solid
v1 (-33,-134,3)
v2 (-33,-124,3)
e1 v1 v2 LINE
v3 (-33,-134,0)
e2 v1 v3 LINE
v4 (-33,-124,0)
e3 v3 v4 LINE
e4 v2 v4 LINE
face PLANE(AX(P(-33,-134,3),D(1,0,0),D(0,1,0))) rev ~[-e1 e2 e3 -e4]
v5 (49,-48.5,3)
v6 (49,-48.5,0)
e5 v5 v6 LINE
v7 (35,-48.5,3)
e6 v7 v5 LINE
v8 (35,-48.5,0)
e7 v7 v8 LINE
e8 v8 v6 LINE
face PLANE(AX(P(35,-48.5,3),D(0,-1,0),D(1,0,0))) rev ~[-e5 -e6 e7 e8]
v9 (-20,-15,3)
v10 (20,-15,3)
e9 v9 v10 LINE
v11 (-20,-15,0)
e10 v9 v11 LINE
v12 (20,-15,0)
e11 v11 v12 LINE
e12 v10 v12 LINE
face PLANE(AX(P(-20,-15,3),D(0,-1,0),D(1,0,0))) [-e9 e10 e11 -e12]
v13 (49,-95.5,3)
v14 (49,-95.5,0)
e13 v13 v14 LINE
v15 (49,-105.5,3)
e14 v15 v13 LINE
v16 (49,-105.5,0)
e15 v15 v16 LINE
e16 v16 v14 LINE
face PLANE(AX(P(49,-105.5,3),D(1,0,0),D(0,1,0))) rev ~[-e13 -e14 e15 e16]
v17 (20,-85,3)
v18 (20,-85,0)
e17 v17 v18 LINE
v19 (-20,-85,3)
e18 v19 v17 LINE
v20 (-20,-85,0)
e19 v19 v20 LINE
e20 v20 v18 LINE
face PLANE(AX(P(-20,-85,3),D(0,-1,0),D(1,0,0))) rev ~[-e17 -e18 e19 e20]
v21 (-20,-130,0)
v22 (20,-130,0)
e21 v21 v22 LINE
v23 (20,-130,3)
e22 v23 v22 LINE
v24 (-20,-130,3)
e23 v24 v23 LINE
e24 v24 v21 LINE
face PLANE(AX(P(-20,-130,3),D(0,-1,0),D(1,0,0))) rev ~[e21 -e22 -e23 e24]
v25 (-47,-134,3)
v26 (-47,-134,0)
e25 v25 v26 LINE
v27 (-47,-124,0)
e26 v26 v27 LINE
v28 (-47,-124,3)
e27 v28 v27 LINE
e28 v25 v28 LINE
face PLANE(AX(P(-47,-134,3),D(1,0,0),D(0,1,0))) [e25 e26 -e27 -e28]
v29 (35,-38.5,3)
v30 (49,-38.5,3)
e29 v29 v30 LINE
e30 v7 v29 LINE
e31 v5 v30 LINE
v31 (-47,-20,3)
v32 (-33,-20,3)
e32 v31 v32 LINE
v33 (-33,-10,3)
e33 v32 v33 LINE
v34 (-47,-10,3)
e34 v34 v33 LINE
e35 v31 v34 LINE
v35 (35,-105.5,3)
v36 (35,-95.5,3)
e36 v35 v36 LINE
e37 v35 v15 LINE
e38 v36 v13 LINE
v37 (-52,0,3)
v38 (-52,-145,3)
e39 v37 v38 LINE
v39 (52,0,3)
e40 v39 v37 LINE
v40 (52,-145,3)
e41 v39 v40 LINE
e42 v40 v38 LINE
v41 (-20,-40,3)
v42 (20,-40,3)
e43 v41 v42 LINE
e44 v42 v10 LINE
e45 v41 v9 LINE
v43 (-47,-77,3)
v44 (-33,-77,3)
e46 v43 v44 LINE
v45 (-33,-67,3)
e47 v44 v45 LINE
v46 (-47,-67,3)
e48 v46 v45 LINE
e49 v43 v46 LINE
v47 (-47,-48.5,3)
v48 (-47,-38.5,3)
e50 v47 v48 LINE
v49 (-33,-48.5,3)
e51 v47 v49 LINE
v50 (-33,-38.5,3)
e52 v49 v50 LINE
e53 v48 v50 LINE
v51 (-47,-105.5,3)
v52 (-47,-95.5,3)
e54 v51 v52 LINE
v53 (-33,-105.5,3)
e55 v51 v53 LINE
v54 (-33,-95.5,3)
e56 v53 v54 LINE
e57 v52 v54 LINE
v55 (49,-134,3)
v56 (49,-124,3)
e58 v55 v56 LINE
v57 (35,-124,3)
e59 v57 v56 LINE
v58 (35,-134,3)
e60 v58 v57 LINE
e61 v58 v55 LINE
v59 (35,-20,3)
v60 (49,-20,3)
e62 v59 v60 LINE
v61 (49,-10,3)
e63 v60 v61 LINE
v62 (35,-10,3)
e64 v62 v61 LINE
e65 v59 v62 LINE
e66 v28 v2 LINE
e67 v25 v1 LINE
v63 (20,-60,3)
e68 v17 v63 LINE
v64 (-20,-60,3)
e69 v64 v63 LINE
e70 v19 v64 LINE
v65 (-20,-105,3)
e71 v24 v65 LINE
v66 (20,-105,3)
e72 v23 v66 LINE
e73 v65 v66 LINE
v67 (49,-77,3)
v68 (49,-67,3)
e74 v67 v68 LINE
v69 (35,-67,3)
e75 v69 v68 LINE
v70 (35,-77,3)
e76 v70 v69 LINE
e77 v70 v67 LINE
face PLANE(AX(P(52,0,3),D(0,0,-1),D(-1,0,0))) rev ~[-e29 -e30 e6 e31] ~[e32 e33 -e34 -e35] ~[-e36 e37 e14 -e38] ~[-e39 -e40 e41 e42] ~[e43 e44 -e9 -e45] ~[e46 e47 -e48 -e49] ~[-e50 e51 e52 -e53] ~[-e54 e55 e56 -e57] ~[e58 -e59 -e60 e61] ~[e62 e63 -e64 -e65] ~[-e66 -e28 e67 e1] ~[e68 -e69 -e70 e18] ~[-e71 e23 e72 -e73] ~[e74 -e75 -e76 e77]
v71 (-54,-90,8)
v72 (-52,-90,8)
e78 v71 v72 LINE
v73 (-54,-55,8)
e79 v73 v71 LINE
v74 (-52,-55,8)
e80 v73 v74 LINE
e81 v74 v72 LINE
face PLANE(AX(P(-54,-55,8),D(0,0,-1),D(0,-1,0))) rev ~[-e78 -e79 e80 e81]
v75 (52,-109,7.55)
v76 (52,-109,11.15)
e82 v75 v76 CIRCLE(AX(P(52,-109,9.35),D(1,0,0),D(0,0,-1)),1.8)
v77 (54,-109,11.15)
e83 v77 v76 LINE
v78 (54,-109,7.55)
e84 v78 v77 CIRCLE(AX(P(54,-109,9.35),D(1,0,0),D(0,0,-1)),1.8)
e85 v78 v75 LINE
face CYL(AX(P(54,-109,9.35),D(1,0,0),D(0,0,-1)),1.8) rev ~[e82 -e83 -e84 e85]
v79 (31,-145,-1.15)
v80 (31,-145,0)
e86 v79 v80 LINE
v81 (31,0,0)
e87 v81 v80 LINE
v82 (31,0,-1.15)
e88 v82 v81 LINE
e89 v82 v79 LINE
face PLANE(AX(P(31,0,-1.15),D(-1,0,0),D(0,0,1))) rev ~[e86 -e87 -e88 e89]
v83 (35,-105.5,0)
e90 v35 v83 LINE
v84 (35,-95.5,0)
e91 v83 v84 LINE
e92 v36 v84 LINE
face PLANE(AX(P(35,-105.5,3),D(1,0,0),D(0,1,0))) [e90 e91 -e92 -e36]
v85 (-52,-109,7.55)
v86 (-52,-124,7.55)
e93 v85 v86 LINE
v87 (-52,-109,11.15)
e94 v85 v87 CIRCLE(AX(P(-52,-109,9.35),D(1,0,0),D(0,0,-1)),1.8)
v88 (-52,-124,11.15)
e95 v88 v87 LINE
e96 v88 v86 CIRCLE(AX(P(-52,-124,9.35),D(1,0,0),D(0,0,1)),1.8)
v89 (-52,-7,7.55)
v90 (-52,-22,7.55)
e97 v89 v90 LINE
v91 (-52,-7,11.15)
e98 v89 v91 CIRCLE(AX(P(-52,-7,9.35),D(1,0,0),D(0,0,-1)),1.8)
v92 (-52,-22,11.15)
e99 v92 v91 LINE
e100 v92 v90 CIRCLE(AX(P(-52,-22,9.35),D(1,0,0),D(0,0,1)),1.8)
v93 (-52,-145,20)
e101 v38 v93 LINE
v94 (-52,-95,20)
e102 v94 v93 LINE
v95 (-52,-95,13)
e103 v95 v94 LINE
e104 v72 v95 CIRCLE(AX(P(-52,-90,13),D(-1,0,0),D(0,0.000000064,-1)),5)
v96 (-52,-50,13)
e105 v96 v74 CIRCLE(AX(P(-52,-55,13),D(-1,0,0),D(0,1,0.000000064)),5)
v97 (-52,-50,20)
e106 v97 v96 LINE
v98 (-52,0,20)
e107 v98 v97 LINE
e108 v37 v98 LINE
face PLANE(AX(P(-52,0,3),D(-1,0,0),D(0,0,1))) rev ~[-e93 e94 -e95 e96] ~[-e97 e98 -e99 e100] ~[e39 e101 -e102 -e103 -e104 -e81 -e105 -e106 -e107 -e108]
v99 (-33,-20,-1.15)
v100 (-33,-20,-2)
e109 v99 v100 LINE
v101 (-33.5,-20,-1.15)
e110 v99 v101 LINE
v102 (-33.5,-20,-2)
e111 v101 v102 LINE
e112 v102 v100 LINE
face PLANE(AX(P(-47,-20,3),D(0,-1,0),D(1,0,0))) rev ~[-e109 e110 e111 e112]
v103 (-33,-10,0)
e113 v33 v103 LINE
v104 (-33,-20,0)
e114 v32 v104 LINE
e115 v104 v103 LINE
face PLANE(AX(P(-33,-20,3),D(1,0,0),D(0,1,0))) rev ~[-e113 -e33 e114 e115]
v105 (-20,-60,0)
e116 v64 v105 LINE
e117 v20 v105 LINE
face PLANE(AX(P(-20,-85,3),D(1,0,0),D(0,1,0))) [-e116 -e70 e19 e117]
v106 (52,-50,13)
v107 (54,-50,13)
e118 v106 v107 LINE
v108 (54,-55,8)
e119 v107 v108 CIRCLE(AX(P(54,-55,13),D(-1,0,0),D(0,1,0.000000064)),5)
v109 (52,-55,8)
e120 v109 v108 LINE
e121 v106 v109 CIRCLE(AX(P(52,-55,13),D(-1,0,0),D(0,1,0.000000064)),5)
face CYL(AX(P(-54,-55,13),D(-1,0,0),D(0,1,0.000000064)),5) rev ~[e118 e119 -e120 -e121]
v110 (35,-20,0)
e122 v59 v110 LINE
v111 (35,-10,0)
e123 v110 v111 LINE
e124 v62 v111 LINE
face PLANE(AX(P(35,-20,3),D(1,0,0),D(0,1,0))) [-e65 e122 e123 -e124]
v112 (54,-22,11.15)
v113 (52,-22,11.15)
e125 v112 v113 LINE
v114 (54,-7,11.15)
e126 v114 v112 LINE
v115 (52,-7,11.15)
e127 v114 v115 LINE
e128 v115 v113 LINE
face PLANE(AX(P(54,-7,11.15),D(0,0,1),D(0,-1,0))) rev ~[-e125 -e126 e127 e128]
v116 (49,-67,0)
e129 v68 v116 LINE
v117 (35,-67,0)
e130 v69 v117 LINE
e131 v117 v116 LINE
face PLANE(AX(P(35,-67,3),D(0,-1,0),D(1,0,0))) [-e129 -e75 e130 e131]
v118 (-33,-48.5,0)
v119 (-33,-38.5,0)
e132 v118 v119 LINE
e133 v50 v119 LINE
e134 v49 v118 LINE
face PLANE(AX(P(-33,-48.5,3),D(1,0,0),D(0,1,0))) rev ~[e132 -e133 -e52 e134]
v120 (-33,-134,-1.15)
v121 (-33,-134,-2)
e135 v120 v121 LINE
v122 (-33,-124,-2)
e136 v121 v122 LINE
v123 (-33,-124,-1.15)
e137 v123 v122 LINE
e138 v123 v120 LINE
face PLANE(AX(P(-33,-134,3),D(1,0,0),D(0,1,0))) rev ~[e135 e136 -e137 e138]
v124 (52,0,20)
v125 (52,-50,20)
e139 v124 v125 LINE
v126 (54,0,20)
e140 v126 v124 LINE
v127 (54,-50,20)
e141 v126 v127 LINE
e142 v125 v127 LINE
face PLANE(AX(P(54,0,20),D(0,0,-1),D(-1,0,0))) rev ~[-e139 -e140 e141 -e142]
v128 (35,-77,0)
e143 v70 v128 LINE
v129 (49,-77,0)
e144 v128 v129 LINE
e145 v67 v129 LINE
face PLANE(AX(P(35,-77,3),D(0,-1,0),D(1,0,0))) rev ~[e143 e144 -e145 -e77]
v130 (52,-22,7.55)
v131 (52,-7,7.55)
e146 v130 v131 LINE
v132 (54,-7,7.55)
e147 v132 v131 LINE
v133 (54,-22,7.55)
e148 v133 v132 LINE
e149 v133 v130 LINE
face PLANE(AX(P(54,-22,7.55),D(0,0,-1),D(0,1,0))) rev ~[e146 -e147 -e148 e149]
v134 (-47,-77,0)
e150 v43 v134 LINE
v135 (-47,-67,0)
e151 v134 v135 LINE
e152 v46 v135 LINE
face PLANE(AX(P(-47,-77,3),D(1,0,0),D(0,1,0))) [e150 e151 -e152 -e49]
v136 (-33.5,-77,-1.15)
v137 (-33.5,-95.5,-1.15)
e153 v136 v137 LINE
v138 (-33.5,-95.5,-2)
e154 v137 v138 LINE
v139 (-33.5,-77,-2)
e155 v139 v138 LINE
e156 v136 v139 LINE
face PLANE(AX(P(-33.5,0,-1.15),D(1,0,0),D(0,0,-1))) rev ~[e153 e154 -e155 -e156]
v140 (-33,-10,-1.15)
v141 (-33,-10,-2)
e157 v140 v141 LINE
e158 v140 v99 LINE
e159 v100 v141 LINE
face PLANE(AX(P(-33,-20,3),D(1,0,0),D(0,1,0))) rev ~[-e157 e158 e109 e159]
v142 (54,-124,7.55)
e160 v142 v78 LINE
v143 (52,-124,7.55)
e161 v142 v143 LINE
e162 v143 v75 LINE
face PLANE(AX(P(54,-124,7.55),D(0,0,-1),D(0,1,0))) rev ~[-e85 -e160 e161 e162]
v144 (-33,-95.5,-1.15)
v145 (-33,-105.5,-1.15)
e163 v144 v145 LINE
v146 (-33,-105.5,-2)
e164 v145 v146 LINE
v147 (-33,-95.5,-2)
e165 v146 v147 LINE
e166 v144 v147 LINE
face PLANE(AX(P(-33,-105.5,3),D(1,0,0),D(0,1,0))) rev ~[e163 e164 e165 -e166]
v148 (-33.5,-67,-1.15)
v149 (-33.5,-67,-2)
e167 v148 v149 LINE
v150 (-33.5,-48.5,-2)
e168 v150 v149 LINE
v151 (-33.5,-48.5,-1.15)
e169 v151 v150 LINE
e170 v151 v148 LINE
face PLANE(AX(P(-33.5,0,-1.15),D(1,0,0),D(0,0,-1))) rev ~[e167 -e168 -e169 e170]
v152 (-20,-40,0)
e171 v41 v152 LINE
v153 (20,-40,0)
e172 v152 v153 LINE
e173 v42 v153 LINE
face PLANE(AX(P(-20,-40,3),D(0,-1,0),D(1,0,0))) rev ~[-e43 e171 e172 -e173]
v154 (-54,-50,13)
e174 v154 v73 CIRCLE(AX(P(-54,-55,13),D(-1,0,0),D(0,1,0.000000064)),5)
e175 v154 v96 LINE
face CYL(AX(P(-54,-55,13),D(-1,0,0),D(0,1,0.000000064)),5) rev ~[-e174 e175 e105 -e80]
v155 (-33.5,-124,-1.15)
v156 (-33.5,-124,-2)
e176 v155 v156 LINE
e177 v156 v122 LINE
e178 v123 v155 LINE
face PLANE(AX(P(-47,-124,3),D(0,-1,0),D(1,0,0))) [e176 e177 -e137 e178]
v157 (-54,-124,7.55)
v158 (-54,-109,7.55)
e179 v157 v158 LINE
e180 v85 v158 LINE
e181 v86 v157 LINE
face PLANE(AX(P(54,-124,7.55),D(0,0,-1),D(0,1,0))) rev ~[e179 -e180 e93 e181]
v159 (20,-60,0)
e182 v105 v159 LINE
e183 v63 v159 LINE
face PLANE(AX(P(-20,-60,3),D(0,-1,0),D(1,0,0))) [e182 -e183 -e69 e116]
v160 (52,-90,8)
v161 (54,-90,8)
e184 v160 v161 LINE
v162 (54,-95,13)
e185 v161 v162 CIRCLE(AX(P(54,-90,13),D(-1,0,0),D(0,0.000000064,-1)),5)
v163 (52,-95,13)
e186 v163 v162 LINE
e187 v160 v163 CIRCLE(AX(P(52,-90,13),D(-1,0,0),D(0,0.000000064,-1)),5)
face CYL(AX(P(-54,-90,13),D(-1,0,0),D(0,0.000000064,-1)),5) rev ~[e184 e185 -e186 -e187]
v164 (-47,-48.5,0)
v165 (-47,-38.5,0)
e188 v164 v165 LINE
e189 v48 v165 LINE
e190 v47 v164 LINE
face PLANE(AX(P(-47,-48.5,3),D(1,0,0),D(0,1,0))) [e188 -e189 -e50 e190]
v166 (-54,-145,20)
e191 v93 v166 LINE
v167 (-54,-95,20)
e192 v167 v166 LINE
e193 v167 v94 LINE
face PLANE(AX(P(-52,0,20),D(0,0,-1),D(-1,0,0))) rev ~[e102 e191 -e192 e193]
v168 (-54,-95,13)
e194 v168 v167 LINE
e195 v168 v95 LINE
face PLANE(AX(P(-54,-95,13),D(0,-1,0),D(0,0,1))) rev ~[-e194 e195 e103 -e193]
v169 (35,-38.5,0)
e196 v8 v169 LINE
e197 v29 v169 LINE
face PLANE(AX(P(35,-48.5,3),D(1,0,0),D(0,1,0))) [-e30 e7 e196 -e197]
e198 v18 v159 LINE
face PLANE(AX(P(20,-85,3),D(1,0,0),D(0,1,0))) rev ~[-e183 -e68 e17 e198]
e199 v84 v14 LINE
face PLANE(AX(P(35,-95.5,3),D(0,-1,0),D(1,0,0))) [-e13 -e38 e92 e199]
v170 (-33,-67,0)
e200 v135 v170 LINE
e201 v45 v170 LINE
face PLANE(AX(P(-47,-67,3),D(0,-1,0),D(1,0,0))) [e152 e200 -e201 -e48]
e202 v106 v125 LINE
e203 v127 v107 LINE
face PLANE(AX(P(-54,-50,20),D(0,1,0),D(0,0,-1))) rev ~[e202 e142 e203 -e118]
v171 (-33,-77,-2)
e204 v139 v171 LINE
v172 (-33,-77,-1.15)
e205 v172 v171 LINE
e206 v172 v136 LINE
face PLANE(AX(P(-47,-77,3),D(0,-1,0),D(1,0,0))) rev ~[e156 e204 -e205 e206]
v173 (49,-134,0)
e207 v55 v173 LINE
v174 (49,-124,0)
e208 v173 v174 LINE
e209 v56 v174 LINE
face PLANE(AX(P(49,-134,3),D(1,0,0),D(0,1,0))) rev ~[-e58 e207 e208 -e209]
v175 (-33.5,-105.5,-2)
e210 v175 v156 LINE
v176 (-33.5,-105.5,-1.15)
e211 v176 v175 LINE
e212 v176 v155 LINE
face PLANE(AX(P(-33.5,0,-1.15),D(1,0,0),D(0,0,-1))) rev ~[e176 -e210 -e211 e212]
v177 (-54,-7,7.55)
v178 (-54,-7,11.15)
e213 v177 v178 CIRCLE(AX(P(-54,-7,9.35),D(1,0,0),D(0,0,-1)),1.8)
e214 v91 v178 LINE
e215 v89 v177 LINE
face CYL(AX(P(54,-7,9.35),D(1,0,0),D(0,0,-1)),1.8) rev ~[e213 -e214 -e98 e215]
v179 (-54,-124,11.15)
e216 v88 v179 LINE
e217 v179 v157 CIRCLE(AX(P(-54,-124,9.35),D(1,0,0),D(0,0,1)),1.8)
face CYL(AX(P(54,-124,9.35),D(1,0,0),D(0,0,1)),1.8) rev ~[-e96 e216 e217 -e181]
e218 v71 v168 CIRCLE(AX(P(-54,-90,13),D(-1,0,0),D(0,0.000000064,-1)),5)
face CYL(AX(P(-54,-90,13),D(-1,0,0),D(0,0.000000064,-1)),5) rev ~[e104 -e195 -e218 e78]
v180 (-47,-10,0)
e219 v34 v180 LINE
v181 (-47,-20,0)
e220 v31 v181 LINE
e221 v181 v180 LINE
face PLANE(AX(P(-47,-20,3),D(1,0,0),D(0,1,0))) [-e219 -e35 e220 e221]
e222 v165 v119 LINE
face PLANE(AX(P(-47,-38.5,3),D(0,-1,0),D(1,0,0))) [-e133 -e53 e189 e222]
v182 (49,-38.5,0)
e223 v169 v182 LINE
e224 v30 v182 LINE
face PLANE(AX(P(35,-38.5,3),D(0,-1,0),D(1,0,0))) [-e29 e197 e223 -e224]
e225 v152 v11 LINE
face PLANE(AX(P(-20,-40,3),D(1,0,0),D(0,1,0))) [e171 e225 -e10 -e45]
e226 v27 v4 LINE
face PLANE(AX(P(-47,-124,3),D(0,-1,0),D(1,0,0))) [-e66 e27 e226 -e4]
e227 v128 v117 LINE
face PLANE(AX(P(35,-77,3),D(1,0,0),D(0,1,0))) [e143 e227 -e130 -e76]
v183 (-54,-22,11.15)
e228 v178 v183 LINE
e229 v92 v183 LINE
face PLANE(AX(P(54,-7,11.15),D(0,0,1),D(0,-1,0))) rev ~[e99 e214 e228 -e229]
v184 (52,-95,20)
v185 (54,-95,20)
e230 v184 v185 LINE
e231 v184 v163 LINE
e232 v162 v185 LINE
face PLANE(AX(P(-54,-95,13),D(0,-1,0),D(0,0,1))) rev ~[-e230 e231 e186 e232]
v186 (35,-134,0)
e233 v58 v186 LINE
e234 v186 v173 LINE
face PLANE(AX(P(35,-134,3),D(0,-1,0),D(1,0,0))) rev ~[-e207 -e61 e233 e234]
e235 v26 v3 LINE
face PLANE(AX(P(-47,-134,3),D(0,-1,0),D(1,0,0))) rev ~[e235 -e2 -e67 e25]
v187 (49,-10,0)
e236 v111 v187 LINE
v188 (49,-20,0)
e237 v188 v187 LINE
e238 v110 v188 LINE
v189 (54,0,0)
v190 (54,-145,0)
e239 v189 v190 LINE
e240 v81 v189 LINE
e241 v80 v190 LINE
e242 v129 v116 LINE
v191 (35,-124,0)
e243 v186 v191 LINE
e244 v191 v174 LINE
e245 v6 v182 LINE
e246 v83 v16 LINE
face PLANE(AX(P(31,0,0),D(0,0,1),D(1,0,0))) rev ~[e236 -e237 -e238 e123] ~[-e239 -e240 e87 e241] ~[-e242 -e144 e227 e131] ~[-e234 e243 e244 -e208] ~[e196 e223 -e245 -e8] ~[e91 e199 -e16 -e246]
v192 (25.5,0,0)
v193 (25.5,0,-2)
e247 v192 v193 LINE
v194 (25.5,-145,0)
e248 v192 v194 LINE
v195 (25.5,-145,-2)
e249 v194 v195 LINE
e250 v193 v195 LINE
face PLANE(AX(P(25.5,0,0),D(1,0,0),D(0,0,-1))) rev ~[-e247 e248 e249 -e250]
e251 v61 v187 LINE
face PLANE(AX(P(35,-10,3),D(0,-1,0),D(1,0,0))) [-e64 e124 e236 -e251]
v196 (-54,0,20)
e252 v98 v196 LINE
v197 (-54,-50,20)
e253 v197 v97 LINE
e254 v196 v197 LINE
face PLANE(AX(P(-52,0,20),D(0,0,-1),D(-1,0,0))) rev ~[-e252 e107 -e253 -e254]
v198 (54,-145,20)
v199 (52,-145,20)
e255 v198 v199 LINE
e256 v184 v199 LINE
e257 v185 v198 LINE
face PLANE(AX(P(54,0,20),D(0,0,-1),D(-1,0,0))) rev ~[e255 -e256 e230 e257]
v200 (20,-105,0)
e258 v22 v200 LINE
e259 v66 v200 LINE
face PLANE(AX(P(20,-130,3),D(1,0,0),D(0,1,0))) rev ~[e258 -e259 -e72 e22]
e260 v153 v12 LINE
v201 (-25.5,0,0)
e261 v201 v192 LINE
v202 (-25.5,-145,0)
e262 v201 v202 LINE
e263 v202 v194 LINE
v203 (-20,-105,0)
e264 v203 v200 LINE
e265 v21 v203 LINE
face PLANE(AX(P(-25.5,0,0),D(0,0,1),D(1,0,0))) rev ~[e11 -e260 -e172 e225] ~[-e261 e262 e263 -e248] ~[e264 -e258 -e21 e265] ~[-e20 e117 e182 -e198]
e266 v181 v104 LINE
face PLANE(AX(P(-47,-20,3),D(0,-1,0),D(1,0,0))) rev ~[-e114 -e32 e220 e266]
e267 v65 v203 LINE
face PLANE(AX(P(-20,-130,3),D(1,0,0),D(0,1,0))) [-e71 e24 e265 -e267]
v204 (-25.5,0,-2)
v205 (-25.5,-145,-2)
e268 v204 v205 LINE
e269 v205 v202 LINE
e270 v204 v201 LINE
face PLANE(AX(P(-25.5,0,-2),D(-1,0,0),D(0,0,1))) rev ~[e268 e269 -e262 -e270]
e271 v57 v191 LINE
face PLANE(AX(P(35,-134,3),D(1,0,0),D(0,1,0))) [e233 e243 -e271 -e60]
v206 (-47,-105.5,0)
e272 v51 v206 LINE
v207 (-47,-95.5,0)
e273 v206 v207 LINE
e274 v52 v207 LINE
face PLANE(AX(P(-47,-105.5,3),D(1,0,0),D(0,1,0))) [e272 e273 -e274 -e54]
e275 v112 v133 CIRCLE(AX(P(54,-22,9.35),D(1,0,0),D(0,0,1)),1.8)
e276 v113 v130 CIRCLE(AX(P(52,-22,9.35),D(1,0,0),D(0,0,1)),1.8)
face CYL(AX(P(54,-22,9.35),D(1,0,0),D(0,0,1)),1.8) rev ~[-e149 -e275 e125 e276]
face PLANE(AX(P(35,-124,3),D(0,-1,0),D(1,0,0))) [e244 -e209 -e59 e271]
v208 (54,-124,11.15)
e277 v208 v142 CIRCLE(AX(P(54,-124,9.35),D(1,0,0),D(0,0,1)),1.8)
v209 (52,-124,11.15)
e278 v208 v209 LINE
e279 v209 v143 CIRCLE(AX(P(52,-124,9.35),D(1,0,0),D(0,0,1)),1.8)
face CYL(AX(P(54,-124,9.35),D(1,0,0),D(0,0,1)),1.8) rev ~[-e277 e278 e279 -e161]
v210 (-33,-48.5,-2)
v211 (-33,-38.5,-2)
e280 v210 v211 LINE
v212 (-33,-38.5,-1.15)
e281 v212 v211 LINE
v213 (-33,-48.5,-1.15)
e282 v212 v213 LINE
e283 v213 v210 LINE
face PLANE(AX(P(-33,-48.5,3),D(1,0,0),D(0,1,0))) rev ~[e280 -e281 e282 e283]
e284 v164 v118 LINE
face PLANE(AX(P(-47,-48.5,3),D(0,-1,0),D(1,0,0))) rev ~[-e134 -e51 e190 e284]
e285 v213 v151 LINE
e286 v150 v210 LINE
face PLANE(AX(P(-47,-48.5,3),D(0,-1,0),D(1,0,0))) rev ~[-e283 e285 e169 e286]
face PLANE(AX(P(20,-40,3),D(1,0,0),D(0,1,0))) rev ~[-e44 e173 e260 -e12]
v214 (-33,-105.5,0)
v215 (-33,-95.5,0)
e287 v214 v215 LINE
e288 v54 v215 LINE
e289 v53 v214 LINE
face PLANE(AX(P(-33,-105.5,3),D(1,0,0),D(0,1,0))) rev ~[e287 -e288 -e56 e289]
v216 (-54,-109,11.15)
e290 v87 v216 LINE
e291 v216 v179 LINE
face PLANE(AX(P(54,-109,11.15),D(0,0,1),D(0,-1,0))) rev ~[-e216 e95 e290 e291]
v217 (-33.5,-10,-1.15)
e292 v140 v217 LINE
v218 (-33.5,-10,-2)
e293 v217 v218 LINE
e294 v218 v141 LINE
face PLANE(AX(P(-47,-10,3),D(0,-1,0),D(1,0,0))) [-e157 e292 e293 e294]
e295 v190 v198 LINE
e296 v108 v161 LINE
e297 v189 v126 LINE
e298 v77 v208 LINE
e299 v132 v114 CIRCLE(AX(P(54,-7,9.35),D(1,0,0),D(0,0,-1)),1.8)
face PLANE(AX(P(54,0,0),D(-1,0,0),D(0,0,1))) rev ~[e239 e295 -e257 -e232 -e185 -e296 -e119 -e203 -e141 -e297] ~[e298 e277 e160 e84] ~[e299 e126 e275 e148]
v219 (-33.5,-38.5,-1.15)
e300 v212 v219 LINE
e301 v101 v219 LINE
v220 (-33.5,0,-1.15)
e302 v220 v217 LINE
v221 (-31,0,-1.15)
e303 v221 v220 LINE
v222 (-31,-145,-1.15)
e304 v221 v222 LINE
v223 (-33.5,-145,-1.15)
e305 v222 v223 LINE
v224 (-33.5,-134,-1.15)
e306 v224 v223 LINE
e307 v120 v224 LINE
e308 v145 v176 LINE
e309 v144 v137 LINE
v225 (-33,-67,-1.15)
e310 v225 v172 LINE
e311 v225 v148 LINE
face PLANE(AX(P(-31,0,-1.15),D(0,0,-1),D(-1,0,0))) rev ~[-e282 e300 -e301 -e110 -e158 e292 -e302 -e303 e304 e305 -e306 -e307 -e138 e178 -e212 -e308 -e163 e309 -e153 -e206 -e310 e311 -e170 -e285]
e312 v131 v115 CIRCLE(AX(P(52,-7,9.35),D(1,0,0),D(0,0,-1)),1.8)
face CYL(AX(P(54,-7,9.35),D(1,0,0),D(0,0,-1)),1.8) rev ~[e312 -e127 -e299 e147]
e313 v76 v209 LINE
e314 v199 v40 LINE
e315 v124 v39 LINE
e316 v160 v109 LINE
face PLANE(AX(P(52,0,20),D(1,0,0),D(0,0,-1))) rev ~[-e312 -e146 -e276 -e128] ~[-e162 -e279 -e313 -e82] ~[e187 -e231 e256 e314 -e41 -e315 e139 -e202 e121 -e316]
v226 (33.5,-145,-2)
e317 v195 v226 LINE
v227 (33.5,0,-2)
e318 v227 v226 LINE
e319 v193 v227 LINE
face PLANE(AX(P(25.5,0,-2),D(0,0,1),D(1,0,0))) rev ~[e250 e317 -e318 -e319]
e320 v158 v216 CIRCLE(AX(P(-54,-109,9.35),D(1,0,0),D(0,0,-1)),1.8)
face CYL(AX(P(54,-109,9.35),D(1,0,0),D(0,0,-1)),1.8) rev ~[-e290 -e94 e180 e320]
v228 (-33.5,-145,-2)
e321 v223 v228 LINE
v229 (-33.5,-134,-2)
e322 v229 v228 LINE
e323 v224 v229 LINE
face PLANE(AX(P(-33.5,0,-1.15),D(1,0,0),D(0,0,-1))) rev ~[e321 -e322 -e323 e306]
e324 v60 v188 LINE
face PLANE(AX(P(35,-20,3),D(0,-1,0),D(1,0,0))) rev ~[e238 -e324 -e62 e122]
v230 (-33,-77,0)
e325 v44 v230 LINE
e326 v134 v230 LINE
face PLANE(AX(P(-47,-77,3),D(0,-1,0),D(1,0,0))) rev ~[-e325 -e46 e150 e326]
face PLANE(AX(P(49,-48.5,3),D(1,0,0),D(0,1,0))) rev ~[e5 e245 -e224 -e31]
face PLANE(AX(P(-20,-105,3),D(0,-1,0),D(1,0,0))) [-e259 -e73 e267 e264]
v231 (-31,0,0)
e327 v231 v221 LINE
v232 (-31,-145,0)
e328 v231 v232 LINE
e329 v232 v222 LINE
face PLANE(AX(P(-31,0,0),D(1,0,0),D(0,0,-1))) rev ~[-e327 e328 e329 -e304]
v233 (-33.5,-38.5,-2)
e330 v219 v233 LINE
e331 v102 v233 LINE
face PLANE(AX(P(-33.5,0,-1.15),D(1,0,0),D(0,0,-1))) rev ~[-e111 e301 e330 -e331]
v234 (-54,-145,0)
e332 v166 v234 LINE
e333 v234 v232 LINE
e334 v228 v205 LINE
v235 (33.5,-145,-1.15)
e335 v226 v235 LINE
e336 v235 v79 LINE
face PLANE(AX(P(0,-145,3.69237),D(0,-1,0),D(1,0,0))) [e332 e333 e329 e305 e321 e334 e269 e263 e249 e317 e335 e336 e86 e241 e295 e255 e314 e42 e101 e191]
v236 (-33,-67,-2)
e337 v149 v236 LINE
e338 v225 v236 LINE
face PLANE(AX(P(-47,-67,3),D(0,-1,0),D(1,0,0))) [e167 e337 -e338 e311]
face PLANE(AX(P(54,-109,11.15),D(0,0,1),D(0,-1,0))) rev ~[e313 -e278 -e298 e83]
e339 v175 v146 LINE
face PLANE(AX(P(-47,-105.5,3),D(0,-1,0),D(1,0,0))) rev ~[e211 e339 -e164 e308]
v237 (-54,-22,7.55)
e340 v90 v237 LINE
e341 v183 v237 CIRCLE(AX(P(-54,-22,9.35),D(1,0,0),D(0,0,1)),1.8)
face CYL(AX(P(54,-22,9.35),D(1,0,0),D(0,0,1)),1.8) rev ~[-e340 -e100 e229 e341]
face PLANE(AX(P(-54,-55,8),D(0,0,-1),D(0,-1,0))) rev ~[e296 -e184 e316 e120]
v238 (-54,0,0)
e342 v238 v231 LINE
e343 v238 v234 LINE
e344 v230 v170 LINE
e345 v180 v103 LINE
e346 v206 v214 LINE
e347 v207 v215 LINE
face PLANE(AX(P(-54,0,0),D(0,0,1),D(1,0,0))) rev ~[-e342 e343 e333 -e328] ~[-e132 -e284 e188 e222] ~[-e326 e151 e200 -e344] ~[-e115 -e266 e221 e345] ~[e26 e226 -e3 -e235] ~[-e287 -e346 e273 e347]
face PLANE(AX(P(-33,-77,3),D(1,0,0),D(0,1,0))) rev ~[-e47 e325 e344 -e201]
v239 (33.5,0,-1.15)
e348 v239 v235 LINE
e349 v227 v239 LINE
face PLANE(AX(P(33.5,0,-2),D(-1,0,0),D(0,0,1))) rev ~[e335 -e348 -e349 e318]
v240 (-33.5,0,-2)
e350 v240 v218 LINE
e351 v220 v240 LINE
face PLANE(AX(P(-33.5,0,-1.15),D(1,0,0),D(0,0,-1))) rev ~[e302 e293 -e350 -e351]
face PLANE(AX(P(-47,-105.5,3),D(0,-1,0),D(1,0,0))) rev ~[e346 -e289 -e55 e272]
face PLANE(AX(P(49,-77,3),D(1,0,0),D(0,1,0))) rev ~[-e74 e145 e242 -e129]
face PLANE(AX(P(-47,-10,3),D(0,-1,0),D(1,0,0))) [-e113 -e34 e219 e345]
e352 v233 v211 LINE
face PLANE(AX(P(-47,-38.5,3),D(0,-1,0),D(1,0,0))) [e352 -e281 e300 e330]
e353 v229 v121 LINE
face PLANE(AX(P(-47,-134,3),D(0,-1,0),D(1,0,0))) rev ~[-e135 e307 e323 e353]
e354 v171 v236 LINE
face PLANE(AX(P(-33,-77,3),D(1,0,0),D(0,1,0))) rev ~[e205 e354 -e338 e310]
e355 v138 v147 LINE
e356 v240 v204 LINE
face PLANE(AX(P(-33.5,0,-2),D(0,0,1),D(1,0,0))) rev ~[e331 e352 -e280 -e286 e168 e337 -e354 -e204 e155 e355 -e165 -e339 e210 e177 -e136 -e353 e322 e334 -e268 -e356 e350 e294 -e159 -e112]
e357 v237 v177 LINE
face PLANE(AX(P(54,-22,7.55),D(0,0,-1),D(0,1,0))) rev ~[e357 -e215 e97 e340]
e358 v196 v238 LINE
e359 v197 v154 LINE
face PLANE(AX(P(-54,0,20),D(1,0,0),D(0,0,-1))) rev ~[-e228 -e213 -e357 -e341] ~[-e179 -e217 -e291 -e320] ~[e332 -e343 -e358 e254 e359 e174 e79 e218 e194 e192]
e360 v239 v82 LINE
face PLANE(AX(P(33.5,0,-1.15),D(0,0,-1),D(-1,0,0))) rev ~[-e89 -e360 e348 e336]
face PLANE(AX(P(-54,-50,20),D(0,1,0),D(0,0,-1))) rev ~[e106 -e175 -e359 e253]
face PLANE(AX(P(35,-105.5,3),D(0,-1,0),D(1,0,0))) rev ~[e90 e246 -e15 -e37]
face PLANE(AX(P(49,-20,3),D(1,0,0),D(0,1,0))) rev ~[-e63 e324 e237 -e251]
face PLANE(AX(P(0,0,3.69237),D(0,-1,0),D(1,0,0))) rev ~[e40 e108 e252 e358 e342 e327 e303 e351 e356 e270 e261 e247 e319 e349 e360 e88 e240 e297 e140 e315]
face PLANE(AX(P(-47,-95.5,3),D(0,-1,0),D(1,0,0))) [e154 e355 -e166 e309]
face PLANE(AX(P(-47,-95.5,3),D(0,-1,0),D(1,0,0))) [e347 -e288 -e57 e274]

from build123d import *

# Parameters (mm, degrees)
F1_DEPTH = 145
F3_DEPTH = 108.001
F4_W     = 40
F4_H     = 25
F4_W_2   = 14
F4_H_2   = 10
F5_DEPTH = 5.001
F7_DEPTH = 108.001


with BuildPart() as f1:
    # F0 (on Front) → F1 (new body)
    with BuildSketch(Plane.XZ):
        Polygon((-54, 20), (-54, 0), (-31, 0), (-31, -1.15), (-33.5, -1.15), (-33.5, -2), (-25.5, -2), (-25.5, 0), (25.5, 0), (25.5, -2), (33.5, -2), (33.5, -1.15), (31, -1.15), (31, 0), (54, 0), (54, 20), (52, 20), (52, 3), (0, 3), (-52, 3), (-52, 20), align=None)
    extrude(amount=F1_DEPTH)

    # F2 (on face) → F3 (cut, through all)
    with BuildSketch(Plane.YZ.offset(54)):
        with BuildLine():
            Line((-109, 11.15), (-124, 11.15))
            ThreePointArc((-124, 11.15), (-125.8, 9.35), (-124, 7.55))
            Line((-124, 7.55), (-109, 7.55))
            ThreePointArc((-109, 7.55), (-107.2, 9.35), (-109, 11.15))
        make_face()
        with BuildLine():
            ThreePointArc((-22, 11.15), (-23.8, 9.35), (-22, 7.55))
            Line((-22, 7.55), (-7, 7.55))
            ThreePointArc((-7, 7.55), (-5.2, 9.35), (-7, 11.15))
            Line((-7, 11.15), (-22, 11.15))
        make_face()
    extrude(amount=-F3_DEPTH, mode=Mode.SUBTRACT)

    # F4 (on face) → F5 (cut, through all)
    with BuildSketch(Plane.XY.offset(3)):
        with Locations((0, -27.5)):
            Rectangle(F4_W, F4_H)
        with Locations((-40, -15)):
            Rectangle(F4_W_2, F4_H_2)
        with Locations((-40, -43.5)):
            Rectangle(F4_W_2, F4_H_2)
        with Locations((-40, -72)):
            Rectangle(F4_W_2, F4_H_2)
        with Locations((-40, -100.5)):
            Rectangle(F4_W_2, F4_H_2)
        with Locations((-40, -129)):
            Rectangle(F4_W_2, F4_H_2)
        with Locations((42, -15)):
            Rectangle(F4_W_2, F4_H_2)
        with Locations((42, -43.5)):
            Rectangle(F4_W_2, F4_H_2)
        with Locations((42, -72)):
            Rectangle(F4_W_2, F4_H_2)
        with Locations((42, -100.5)):
            Rectangle(F4_W_2, F4_H_2)
        with Locations((42, -129)):
            Rectangle(F4_W_2, F4_H_2)
        with Locations((0, -72.5)):
            Rectangle(F4_W, F4_H)
        with Locations((0, -117.5)):
            Rectangle(F4_W, F4_H)
    extrude(amount=-F5_DEPTH, mode=Mode.SUBTRACT)

    # F6 (on face) → F7 (cut, through all)
    with BuildSketch(Plane(origin=(-54, 0, 0), x_dir=(0, -1, 0), z_dir=(-1, 0, 0))):
        with BuildLine():
            Line((95, 20), (50, 20))
            Line((50, 20), (50, 13))
            ThreePointArc((50, 13), (51.464466, 9.464466), (55, 8))
            Line((55, 8), (90, 8))
            ThreePointArc((90, 8), (93.535534, 9.464466), (95, 13))
            Line((95, 13), (95, 20))
        make_face()
    extrude(amount=-F7_DEPTH, mode=Mode.SUBTRACT)


solid = f1.part
